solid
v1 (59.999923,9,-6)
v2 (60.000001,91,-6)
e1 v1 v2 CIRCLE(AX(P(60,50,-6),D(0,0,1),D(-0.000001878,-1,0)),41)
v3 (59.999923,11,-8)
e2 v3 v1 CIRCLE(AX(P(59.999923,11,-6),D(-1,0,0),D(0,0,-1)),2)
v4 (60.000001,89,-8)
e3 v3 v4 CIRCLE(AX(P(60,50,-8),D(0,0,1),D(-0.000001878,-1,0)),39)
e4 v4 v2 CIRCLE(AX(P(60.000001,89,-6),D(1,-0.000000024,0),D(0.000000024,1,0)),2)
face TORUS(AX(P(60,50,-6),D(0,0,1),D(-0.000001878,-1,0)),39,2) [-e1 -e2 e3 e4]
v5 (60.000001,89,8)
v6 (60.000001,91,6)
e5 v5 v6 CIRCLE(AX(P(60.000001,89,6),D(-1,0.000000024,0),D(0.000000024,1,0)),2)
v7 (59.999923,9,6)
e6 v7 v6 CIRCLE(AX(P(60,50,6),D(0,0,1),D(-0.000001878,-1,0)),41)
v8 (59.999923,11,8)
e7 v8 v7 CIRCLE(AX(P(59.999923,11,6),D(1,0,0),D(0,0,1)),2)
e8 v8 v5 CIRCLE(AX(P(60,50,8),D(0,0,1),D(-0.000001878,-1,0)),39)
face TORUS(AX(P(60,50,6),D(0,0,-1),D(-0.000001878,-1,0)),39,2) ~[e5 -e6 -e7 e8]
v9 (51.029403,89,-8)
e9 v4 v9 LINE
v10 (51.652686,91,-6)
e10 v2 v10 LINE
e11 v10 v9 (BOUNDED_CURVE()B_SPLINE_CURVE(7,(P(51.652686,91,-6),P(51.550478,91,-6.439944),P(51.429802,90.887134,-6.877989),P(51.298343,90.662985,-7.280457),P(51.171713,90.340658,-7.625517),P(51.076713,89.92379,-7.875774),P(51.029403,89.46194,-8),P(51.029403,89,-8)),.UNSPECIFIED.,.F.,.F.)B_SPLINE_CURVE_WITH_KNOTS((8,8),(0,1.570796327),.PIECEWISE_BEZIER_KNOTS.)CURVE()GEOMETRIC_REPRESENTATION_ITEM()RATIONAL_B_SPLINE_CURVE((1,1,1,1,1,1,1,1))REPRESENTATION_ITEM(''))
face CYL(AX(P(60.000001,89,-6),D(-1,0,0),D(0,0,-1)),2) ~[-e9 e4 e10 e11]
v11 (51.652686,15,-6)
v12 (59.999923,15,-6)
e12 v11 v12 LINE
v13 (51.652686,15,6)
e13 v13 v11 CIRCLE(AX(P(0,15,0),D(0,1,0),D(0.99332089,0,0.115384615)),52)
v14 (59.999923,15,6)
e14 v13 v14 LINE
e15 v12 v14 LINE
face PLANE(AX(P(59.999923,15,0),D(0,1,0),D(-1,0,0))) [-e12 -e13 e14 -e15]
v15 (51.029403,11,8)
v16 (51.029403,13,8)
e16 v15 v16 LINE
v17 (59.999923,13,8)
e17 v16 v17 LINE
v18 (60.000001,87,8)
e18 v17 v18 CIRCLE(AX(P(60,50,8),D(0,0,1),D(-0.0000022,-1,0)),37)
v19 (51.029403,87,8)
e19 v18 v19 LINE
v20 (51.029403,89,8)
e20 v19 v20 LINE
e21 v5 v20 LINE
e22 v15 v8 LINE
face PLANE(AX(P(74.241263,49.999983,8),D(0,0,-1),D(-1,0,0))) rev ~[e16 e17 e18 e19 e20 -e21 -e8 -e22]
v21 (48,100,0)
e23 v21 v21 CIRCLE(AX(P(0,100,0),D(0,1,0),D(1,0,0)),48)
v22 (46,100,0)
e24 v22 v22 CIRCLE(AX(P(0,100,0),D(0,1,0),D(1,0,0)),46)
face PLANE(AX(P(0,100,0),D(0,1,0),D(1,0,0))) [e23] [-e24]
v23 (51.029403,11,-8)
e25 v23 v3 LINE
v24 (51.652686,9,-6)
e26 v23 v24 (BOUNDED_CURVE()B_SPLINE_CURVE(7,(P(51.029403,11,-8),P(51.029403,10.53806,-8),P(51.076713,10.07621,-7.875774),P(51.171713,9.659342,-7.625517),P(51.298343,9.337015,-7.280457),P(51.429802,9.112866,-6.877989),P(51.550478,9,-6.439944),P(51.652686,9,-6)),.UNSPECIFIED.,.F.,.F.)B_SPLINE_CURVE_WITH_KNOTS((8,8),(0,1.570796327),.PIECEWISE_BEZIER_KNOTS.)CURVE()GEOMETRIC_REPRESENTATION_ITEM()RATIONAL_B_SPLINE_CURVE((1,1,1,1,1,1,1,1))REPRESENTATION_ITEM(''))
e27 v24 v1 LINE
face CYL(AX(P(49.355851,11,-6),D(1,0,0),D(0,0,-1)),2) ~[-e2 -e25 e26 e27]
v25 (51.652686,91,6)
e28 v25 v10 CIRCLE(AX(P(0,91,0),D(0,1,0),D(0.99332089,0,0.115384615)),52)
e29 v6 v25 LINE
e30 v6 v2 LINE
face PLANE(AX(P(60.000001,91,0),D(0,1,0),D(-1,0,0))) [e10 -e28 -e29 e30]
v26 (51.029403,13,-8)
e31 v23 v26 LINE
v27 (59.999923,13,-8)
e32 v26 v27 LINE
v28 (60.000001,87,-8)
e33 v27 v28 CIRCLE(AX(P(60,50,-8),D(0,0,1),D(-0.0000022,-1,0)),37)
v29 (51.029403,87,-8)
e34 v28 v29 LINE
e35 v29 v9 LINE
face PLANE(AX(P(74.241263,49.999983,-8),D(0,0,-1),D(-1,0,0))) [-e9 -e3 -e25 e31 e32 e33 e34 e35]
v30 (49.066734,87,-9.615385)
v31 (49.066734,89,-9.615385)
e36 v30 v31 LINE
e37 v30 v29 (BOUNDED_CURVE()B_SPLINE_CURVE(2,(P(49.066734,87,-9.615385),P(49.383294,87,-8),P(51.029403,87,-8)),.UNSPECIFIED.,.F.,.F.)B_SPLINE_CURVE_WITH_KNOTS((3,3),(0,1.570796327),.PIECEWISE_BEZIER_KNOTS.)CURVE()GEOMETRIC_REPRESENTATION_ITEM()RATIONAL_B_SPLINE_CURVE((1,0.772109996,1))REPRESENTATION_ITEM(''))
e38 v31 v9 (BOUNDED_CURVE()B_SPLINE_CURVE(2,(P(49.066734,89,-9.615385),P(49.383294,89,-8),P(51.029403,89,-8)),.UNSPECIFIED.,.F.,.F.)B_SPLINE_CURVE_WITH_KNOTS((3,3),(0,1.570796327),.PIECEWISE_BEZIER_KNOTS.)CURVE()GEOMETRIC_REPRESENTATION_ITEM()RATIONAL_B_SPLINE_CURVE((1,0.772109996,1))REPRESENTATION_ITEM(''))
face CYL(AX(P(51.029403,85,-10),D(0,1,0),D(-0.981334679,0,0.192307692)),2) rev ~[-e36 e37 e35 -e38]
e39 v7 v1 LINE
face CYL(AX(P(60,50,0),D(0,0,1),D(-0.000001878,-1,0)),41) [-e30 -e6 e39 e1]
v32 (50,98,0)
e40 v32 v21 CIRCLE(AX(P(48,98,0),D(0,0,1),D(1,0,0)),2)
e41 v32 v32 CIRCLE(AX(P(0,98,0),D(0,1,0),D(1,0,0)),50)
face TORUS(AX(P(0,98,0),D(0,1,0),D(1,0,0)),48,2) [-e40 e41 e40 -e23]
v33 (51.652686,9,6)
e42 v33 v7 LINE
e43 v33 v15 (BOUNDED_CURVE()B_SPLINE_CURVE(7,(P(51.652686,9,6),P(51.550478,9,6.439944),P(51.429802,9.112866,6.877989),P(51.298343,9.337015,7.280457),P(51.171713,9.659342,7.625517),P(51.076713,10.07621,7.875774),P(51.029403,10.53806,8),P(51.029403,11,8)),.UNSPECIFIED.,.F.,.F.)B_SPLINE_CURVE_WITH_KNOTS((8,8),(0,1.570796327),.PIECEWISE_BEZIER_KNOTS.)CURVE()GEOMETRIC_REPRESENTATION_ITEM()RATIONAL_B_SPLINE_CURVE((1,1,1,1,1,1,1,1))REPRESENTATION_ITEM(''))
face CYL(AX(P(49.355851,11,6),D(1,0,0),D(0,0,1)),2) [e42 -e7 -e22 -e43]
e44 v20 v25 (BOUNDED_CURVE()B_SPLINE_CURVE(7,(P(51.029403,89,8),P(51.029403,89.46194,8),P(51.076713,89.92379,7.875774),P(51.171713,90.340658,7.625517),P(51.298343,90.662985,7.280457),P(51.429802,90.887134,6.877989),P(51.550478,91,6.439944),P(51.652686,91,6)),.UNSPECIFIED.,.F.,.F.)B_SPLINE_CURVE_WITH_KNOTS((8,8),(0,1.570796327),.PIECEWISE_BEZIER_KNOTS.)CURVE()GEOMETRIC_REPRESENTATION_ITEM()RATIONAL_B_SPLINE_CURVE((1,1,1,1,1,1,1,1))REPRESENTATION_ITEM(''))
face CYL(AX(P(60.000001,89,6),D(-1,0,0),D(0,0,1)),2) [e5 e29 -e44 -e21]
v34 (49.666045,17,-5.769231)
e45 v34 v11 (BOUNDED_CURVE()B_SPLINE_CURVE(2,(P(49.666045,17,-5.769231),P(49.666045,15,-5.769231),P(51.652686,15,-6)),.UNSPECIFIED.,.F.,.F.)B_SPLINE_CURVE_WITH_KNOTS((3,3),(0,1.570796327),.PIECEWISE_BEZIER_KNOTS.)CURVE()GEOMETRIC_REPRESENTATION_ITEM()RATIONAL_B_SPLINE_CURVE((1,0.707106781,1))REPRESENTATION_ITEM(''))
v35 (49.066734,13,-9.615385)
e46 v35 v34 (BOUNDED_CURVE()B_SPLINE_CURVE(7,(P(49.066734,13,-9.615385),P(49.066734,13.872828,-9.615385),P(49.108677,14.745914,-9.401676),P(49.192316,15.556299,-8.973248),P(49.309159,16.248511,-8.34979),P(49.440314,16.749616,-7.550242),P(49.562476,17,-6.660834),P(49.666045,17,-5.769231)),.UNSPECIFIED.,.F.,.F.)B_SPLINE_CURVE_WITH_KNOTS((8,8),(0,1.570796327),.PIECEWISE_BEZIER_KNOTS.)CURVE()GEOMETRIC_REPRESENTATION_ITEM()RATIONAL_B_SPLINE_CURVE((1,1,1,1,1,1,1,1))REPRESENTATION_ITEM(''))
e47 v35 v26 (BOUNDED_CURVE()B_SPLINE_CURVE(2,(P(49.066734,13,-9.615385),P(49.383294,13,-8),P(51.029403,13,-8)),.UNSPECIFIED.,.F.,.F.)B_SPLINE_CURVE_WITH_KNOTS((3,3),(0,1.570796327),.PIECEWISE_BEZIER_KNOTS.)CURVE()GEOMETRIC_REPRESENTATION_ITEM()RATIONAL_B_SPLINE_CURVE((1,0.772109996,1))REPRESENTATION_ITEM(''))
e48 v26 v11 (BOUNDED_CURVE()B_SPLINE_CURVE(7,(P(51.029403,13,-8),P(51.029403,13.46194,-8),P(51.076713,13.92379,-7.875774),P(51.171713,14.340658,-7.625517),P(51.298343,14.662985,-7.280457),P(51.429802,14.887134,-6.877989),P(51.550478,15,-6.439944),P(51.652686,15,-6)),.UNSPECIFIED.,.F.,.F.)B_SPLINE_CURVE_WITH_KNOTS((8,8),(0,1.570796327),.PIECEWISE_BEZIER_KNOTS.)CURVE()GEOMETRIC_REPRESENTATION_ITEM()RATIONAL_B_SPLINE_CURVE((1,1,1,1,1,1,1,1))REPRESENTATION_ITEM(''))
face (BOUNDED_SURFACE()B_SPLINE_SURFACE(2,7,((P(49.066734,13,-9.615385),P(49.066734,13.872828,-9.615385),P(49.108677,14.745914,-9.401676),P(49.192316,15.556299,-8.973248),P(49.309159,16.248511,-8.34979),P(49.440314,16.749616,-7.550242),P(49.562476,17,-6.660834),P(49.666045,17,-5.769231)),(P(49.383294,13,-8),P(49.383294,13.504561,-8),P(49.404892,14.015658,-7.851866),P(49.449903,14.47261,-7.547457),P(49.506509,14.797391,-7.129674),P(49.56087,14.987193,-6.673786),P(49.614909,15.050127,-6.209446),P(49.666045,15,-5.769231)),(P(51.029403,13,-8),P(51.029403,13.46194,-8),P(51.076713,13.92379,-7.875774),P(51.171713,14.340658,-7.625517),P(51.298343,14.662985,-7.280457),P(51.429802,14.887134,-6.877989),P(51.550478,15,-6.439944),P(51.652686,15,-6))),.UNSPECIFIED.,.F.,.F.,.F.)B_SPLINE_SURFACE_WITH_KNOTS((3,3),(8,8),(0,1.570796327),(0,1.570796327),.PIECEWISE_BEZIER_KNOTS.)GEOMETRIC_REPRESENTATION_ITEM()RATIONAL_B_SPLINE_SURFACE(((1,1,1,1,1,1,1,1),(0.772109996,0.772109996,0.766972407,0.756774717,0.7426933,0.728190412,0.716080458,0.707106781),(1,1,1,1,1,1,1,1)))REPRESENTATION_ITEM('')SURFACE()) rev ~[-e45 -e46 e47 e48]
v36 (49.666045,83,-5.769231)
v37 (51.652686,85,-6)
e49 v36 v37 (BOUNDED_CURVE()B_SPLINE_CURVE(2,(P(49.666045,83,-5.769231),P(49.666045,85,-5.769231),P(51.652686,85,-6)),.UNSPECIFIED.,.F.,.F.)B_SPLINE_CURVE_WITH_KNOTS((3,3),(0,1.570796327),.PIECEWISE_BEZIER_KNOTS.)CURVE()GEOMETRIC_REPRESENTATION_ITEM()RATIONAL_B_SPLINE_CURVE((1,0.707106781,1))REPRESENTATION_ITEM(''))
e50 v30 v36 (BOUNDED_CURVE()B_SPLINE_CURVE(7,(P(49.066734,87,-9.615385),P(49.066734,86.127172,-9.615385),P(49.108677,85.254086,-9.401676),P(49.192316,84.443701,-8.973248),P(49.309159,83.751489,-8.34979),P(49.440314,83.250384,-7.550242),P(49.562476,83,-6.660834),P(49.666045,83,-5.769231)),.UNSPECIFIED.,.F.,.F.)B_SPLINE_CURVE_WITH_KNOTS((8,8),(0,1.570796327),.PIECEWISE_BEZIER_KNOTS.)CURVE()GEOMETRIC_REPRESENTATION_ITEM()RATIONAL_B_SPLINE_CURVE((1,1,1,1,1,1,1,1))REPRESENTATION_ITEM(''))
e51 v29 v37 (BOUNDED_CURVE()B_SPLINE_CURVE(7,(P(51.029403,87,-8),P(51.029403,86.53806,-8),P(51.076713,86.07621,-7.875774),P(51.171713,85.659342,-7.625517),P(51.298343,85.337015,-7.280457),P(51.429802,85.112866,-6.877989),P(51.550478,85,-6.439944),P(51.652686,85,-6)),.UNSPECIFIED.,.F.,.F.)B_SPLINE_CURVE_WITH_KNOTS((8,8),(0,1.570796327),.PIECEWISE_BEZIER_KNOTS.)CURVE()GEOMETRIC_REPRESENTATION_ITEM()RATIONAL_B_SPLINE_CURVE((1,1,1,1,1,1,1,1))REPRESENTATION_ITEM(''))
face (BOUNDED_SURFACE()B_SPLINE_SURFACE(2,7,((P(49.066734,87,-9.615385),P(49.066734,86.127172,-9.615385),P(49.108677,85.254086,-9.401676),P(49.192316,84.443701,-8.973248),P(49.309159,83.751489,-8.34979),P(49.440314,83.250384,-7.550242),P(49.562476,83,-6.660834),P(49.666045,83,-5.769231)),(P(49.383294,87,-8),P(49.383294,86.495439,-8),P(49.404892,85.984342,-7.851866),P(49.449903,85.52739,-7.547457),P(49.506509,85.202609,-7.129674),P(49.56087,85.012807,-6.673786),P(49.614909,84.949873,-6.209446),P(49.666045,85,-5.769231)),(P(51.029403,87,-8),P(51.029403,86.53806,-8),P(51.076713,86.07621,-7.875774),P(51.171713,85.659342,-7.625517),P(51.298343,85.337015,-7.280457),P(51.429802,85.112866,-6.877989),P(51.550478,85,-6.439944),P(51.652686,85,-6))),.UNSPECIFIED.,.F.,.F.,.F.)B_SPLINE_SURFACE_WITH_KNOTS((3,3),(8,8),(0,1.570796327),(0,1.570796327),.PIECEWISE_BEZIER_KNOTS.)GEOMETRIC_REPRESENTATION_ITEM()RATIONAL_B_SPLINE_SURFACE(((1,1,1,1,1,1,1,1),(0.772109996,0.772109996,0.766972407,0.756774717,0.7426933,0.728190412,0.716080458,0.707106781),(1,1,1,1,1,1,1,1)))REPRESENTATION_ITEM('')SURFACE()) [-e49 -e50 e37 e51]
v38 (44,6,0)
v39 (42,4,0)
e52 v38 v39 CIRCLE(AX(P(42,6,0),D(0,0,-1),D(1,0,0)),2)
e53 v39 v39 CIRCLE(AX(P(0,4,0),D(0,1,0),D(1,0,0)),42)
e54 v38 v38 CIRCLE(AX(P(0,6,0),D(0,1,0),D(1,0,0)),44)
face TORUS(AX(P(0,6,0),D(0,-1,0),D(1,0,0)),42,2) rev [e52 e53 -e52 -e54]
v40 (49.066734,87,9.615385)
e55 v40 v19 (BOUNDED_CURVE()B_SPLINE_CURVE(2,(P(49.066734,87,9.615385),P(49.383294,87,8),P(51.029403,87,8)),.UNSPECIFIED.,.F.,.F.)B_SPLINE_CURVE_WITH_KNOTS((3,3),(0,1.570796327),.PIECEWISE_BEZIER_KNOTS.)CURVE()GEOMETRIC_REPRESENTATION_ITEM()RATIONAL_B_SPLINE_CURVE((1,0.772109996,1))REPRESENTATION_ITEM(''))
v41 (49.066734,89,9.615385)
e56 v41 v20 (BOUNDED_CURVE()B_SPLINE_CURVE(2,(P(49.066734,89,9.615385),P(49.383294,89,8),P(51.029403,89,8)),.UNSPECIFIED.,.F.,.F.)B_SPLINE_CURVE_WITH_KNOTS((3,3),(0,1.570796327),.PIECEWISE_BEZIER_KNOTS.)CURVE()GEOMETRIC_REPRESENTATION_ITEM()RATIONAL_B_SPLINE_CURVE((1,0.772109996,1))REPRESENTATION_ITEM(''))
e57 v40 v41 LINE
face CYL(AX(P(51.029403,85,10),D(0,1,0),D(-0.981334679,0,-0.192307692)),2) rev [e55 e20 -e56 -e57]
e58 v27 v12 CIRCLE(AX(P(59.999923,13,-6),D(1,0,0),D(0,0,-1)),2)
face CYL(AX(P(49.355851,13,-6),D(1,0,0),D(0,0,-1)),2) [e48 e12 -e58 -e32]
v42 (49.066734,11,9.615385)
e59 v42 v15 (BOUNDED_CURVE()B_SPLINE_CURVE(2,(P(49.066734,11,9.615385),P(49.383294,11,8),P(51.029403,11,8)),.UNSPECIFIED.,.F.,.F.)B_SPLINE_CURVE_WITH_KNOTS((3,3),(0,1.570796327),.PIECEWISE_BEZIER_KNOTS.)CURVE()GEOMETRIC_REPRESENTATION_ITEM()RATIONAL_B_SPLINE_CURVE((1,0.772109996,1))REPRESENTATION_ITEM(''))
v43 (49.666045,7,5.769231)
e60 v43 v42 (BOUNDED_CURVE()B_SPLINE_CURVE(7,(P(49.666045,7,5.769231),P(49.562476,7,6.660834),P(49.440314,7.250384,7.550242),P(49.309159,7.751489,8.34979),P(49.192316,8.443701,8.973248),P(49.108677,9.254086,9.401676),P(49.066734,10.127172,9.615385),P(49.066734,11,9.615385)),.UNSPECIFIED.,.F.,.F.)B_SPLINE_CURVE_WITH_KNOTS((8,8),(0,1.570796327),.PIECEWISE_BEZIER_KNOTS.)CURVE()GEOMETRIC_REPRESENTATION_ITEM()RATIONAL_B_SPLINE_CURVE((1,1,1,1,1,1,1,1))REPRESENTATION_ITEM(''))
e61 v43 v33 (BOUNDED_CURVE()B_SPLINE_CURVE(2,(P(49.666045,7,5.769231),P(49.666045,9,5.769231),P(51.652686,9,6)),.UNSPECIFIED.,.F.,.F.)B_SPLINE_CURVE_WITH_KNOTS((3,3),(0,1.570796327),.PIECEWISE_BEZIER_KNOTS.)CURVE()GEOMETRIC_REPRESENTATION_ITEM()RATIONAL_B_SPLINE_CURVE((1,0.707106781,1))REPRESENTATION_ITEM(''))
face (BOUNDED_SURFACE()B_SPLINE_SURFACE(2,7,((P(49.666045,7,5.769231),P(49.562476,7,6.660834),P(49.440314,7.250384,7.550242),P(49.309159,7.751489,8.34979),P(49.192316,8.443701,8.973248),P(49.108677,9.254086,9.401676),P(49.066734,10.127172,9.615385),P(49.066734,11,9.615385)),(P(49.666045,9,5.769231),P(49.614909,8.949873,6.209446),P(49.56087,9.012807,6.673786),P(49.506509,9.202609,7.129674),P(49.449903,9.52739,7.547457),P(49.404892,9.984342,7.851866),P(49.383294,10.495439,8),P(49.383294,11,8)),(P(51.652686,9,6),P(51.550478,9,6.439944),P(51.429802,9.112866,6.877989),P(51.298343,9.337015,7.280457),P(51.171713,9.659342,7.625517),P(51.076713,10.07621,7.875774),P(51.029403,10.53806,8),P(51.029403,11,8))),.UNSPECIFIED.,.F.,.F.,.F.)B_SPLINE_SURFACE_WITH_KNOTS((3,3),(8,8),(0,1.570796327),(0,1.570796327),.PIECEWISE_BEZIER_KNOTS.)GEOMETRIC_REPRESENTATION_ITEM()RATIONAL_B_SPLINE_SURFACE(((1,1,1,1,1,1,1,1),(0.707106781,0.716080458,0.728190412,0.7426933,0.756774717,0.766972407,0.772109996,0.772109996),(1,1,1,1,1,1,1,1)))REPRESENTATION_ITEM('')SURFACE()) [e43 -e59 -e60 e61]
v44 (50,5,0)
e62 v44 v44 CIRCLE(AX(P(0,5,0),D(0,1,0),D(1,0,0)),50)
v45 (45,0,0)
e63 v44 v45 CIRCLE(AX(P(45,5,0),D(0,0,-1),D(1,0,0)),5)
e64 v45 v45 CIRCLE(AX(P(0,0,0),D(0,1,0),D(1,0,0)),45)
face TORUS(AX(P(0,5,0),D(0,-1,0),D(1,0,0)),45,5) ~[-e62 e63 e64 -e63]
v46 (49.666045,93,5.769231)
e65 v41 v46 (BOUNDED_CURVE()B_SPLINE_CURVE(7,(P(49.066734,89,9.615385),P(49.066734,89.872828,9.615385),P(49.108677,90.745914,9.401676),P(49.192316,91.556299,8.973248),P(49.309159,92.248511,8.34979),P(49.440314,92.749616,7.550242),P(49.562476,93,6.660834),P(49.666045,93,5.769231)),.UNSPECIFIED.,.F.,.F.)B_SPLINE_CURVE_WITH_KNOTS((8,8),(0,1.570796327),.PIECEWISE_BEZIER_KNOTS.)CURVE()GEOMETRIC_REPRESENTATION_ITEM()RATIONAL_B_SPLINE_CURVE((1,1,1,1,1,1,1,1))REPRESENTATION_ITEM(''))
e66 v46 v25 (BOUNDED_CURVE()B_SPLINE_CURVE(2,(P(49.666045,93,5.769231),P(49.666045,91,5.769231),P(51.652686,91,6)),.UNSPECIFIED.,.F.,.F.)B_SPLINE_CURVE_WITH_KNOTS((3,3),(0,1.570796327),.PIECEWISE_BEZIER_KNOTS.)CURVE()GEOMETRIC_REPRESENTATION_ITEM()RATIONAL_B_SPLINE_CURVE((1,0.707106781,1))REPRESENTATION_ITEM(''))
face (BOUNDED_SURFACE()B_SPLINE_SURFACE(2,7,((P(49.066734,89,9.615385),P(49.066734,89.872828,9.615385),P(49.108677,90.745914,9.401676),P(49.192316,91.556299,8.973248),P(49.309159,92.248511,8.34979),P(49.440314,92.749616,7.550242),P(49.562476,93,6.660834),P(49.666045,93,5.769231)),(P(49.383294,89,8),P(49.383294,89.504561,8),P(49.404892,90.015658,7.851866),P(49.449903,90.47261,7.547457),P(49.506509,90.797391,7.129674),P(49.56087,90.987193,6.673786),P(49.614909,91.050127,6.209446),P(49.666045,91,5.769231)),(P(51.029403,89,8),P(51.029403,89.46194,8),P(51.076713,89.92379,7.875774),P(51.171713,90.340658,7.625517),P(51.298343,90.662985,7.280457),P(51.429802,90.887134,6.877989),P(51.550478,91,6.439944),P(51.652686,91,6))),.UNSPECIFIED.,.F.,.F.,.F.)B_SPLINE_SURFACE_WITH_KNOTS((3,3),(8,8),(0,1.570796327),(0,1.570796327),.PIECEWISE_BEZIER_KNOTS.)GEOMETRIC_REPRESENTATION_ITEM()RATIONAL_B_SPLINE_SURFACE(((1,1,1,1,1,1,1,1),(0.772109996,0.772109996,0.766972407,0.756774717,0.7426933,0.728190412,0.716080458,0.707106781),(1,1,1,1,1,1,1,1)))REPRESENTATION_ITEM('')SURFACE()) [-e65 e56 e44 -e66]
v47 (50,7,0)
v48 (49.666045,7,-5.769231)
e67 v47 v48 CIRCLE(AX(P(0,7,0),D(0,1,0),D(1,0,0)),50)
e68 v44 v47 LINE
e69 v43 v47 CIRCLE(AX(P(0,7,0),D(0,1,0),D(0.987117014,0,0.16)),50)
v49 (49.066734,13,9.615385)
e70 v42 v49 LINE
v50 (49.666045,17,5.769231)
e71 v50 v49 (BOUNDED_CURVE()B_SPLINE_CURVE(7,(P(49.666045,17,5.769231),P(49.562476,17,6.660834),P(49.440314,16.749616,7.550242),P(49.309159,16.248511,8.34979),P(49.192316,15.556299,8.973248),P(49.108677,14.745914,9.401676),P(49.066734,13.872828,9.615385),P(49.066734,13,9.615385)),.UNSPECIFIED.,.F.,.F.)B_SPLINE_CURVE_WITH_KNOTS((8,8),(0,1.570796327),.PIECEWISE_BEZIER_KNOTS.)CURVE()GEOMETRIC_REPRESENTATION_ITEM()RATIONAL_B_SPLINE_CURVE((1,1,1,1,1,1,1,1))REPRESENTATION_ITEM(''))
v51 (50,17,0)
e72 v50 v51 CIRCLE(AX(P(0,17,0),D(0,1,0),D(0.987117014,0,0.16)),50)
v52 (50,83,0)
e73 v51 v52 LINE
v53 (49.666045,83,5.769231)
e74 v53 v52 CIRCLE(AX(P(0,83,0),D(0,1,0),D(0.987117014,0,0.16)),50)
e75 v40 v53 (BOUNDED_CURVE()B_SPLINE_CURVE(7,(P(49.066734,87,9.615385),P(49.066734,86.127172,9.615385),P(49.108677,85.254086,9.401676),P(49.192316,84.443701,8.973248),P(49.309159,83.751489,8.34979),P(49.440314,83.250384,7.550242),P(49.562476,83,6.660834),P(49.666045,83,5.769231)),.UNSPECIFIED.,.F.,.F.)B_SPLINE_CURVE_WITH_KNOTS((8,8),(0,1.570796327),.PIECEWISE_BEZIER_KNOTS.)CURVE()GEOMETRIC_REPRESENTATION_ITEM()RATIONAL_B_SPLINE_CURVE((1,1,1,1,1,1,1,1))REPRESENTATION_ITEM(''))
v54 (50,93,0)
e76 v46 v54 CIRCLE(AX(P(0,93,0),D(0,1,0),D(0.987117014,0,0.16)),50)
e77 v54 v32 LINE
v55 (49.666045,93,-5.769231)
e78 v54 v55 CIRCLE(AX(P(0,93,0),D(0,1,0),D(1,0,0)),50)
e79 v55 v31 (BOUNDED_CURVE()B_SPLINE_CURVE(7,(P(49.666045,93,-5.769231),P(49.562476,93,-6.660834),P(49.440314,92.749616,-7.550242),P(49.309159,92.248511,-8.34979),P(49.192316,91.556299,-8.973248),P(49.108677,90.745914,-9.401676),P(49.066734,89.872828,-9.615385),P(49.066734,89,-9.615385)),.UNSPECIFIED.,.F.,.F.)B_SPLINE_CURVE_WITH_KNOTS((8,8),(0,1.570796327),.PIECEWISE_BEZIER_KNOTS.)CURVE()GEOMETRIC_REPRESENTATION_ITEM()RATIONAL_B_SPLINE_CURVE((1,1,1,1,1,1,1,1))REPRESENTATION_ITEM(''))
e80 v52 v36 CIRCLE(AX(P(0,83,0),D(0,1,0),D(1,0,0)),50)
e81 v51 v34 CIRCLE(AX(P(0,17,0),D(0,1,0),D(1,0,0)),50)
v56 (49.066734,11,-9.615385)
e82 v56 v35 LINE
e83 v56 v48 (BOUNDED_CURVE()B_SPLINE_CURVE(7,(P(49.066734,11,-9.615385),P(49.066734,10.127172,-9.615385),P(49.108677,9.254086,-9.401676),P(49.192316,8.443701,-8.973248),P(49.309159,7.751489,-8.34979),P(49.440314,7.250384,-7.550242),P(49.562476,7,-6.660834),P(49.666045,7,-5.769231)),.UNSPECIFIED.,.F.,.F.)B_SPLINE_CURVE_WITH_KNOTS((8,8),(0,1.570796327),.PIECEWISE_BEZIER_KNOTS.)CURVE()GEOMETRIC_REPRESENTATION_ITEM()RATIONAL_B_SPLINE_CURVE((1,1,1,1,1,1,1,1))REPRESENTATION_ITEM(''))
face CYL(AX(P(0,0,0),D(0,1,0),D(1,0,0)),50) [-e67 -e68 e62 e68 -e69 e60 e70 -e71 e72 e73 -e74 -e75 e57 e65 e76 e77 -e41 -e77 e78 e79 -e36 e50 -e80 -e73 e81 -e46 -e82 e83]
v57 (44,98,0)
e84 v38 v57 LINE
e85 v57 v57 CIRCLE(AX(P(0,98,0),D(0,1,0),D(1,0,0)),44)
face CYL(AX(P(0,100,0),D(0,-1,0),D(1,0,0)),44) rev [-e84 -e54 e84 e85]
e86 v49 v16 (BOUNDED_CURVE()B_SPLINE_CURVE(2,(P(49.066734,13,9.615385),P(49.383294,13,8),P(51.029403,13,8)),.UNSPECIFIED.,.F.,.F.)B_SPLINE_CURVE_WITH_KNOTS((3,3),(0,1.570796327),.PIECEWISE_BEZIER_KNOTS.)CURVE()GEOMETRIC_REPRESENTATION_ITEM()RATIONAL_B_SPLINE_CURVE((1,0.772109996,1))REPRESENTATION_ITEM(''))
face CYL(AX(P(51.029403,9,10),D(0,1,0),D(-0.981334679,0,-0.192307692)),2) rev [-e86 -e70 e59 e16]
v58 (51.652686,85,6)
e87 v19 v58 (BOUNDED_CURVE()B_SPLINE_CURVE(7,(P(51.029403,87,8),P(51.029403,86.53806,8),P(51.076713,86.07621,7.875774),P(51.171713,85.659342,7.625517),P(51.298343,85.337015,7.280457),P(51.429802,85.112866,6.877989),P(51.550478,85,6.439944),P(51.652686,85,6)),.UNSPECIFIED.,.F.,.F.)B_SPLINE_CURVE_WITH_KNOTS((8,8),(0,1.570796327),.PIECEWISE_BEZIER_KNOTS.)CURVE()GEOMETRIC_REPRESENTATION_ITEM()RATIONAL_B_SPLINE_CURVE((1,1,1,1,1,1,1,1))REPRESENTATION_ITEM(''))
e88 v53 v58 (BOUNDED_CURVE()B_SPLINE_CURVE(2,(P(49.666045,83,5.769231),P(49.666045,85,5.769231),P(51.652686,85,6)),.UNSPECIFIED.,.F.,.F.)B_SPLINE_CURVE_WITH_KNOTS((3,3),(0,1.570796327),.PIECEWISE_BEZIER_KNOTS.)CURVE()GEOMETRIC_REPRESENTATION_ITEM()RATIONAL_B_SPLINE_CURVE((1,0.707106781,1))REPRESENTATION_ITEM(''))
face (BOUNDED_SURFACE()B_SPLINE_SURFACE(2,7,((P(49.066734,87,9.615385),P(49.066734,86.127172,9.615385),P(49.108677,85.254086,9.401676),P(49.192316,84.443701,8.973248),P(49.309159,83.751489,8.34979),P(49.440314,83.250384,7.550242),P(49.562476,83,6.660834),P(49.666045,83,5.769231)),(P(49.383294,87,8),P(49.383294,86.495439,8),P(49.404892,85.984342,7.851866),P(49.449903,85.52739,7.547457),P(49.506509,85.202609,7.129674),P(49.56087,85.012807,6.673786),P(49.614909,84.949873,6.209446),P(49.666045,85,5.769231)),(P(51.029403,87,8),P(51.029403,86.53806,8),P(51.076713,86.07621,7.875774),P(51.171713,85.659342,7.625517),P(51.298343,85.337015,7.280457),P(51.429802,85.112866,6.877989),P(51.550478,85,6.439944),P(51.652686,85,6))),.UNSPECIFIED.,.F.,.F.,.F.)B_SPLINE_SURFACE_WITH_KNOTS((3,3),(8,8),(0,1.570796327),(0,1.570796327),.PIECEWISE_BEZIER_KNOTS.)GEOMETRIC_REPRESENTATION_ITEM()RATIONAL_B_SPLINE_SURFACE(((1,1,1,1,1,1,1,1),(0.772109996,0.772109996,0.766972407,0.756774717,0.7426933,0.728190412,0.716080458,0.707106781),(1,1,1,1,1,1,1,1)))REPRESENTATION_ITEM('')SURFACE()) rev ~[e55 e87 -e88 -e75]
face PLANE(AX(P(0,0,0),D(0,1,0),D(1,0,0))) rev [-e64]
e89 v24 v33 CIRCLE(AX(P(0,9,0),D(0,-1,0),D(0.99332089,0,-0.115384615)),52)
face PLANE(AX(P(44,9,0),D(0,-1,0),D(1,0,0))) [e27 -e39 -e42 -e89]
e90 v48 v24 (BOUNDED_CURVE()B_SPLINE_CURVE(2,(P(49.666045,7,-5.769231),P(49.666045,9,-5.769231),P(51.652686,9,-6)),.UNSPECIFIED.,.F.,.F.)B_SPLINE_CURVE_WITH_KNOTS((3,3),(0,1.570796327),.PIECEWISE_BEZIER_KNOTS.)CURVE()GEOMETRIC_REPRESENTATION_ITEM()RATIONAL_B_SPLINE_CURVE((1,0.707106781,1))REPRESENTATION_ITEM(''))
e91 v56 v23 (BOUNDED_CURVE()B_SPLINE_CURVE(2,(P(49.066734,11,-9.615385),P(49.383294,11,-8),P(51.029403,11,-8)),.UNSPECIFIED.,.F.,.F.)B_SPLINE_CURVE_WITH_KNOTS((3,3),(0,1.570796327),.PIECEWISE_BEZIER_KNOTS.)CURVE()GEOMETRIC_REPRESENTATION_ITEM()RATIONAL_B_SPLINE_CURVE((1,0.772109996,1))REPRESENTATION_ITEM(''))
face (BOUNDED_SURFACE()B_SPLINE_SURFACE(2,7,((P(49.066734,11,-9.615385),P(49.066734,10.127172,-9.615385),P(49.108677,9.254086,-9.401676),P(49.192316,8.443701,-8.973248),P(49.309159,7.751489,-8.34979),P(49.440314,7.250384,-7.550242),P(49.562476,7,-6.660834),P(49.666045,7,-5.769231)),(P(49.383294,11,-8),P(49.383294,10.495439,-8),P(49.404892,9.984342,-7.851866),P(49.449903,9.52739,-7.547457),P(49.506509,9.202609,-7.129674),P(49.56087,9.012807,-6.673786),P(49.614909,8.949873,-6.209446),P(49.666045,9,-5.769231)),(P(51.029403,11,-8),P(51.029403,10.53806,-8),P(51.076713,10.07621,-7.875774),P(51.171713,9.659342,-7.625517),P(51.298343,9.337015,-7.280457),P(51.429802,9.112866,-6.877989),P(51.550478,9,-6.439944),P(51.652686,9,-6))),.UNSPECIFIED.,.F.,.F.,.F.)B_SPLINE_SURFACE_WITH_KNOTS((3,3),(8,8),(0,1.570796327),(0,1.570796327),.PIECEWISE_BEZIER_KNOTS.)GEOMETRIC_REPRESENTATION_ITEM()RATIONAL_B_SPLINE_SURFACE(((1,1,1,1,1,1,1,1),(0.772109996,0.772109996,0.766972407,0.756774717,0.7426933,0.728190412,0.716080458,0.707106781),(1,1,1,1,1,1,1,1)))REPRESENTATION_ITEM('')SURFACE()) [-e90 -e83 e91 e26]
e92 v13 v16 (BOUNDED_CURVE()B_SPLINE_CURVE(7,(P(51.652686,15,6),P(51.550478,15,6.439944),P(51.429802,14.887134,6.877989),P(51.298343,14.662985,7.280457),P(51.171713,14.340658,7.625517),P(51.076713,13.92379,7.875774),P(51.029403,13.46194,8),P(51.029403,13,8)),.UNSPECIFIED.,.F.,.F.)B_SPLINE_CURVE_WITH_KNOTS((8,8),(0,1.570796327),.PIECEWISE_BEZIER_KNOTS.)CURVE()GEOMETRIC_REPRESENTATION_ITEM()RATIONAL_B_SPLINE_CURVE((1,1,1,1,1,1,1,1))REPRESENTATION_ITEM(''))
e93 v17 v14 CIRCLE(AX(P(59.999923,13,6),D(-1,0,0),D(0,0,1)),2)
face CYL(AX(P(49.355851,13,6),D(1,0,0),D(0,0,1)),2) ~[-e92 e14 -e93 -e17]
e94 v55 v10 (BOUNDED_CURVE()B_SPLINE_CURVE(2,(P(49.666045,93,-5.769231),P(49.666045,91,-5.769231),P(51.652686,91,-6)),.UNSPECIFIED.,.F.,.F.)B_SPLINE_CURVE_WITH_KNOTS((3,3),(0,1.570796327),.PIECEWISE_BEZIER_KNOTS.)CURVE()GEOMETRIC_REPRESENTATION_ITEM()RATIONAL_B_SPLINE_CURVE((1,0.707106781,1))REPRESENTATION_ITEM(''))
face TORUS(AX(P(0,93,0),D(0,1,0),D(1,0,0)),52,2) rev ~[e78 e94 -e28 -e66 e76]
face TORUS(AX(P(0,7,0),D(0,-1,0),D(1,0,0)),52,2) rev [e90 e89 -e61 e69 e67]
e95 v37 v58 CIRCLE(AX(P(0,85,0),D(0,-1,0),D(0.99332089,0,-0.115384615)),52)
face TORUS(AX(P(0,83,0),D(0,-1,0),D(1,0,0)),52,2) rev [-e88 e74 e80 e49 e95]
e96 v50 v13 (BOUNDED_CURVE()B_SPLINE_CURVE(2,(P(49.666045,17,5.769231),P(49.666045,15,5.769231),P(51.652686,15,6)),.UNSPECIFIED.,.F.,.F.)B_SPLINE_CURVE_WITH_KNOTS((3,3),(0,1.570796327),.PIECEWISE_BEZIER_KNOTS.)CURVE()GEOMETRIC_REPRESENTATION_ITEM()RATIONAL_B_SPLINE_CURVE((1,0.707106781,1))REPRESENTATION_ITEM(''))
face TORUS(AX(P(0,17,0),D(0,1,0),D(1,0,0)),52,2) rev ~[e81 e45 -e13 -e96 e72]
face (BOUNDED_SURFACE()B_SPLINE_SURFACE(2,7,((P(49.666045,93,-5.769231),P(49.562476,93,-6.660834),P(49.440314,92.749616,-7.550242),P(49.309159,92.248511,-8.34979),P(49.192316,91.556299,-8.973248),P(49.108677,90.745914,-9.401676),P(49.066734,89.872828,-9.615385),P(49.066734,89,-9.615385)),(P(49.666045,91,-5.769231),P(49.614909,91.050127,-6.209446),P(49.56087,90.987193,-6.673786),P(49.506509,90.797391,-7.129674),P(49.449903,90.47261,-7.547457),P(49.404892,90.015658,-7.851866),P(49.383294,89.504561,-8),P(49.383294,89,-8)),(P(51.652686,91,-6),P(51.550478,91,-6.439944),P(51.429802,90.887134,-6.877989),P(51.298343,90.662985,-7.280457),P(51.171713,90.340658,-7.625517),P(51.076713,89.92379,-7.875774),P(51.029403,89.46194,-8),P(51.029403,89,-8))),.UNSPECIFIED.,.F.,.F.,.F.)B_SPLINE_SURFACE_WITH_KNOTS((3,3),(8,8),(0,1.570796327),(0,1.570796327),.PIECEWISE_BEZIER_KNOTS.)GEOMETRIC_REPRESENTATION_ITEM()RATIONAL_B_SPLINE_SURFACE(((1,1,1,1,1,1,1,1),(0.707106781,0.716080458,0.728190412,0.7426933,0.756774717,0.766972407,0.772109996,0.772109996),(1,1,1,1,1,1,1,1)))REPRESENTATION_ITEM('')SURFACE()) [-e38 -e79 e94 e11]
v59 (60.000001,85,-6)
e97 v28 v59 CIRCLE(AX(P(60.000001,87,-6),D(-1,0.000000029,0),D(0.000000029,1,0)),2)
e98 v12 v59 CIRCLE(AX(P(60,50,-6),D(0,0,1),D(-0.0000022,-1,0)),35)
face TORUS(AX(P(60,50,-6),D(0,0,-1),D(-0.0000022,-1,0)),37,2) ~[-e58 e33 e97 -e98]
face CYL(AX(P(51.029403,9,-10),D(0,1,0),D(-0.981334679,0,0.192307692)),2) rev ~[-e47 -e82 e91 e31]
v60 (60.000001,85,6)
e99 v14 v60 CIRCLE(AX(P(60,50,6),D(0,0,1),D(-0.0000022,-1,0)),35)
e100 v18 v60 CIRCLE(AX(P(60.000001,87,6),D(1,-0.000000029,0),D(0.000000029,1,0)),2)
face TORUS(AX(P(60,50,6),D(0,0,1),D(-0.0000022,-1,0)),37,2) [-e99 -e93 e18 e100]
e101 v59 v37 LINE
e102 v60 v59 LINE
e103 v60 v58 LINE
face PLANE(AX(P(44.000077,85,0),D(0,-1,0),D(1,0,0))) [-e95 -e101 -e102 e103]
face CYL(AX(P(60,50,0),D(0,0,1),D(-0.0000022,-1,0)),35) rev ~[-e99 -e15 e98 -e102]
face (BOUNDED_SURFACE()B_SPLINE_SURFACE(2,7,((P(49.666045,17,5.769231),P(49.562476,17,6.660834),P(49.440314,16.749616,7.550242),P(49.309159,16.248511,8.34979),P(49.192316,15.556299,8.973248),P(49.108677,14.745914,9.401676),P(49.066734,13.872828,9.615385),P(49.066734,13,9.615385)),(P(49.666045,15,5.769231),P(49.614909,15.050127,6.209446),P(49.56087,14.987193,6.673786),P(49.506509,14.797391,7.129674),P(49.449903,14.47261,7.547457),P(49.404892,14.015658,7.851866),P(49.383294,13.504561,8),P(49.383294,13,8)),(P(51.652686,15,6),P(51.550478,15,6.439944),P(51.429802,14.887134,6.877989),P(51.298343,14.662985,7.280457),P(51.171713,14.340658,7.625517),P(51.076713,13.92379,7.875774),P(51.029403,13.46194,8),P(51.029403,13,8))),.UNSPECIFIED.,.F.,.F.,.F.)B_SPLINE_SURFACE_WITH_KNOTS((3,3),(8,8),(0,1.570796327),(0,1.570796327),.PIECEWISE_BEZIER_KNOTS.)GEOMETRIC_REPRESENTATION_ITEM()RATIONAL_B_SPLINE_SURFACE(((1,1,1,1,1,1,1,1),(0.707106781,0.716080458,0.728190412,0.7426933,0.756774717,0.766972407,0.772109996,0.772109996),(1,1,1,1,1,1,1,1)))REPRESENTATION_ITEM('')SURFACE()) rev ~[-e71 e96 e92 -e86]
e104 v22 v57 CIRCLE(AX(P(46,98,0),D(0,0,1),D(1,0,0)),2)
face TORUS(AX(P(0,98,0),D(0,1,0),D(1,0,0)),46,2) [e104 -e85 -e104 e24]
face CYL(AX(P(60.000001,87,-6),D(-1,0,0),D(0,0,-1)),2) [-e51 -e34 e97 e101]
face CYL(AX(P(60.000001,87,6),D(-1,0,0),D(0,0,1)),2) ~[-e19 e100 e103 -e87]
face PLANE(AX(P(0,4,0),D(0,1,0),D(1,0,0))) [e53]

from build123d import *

# Parameters (mm, degrees)
PAD_DEPTH   = 8
FILLET_R    = 5
FILLET001_R = 2
FILLET002_R = 2


with BuildPart() as part:
    # Sketch → Revolution (revolve)
    with BuildSketch(Plane.XY):
        Polygon((0, 0), (50, 0), (50, 100), (44, 100), (44, 4), (0, 4), align=None)
    revolve(axis=Axis((0, 0, 0), (0, 1, 0)))

    # Sketch001 → Pad (new body, symmetric)
    with BuildSketch(Plane.XY):
        with BuildLine():
            ThreePointArc((59.999923, 15), (95, 49.999961), (60.000001, 85))
            Line((44.000077, 85), (60.000001, 85))
            Line((44.000077, 91), (44.000077, 85))
            Line((60.000001, 91), (44.000077, 91))
            ThreePointArc((59.999923, 9), (101, 49.999961), (60.000001, 91))
            Line((44, 9), (59.999923, 9))
            Line((44, 15), (44, 9))
            Line((59.999923, 15), (44, 15))
        make_face()
    extrude(amount=PAD_DEPTH, both=True)

    # Fillet
    fillet_edges = [part.edges().sort_by_distance(p)[0] for p in [
        (-50, 0, 0),
    ]]
    fillet(fillet_edges, radius=FILLET_R)

    # Fillet001
    fillet001_edges = [part.edges().sort_by_distance(p)[0] for p in [
        (-50, 100, 0),
        (-44, 4, 0),
        (-44, 100, 0),
    ]]
    fillet(fillet001_edges, radius=FILLET001_R)

    # Fillet002
    fillet002_edges = [part.edges().sort_by_distance(p)[0] for p in [
        (101, 49.999961, 8),
        (101, 49.999961, -8),
        (49.355851, 88, 8),
        (49.838703, 91, 4.012946),
        (49.838703, 91, -4.012946),
        (49.355851, 88, -8),
        (49.838703, 85, -4.012946),
        (49.838703, 85, 4.012946),
        (49.355851, 12, -8),
        (49.838703, 9, -4.012946),
        (49.838703, 9, 4.012946),
        (49.838703, 15, -4.012946),
        (49.838703, 15, 4.012946),
        (49.355851, 12, 8),
        (95, 49.999961, -8),
        (95, 49.999961, 8),
    ]]
    fillet(fillet002_edges, radius=FILLET002_R)


solid = part.part
